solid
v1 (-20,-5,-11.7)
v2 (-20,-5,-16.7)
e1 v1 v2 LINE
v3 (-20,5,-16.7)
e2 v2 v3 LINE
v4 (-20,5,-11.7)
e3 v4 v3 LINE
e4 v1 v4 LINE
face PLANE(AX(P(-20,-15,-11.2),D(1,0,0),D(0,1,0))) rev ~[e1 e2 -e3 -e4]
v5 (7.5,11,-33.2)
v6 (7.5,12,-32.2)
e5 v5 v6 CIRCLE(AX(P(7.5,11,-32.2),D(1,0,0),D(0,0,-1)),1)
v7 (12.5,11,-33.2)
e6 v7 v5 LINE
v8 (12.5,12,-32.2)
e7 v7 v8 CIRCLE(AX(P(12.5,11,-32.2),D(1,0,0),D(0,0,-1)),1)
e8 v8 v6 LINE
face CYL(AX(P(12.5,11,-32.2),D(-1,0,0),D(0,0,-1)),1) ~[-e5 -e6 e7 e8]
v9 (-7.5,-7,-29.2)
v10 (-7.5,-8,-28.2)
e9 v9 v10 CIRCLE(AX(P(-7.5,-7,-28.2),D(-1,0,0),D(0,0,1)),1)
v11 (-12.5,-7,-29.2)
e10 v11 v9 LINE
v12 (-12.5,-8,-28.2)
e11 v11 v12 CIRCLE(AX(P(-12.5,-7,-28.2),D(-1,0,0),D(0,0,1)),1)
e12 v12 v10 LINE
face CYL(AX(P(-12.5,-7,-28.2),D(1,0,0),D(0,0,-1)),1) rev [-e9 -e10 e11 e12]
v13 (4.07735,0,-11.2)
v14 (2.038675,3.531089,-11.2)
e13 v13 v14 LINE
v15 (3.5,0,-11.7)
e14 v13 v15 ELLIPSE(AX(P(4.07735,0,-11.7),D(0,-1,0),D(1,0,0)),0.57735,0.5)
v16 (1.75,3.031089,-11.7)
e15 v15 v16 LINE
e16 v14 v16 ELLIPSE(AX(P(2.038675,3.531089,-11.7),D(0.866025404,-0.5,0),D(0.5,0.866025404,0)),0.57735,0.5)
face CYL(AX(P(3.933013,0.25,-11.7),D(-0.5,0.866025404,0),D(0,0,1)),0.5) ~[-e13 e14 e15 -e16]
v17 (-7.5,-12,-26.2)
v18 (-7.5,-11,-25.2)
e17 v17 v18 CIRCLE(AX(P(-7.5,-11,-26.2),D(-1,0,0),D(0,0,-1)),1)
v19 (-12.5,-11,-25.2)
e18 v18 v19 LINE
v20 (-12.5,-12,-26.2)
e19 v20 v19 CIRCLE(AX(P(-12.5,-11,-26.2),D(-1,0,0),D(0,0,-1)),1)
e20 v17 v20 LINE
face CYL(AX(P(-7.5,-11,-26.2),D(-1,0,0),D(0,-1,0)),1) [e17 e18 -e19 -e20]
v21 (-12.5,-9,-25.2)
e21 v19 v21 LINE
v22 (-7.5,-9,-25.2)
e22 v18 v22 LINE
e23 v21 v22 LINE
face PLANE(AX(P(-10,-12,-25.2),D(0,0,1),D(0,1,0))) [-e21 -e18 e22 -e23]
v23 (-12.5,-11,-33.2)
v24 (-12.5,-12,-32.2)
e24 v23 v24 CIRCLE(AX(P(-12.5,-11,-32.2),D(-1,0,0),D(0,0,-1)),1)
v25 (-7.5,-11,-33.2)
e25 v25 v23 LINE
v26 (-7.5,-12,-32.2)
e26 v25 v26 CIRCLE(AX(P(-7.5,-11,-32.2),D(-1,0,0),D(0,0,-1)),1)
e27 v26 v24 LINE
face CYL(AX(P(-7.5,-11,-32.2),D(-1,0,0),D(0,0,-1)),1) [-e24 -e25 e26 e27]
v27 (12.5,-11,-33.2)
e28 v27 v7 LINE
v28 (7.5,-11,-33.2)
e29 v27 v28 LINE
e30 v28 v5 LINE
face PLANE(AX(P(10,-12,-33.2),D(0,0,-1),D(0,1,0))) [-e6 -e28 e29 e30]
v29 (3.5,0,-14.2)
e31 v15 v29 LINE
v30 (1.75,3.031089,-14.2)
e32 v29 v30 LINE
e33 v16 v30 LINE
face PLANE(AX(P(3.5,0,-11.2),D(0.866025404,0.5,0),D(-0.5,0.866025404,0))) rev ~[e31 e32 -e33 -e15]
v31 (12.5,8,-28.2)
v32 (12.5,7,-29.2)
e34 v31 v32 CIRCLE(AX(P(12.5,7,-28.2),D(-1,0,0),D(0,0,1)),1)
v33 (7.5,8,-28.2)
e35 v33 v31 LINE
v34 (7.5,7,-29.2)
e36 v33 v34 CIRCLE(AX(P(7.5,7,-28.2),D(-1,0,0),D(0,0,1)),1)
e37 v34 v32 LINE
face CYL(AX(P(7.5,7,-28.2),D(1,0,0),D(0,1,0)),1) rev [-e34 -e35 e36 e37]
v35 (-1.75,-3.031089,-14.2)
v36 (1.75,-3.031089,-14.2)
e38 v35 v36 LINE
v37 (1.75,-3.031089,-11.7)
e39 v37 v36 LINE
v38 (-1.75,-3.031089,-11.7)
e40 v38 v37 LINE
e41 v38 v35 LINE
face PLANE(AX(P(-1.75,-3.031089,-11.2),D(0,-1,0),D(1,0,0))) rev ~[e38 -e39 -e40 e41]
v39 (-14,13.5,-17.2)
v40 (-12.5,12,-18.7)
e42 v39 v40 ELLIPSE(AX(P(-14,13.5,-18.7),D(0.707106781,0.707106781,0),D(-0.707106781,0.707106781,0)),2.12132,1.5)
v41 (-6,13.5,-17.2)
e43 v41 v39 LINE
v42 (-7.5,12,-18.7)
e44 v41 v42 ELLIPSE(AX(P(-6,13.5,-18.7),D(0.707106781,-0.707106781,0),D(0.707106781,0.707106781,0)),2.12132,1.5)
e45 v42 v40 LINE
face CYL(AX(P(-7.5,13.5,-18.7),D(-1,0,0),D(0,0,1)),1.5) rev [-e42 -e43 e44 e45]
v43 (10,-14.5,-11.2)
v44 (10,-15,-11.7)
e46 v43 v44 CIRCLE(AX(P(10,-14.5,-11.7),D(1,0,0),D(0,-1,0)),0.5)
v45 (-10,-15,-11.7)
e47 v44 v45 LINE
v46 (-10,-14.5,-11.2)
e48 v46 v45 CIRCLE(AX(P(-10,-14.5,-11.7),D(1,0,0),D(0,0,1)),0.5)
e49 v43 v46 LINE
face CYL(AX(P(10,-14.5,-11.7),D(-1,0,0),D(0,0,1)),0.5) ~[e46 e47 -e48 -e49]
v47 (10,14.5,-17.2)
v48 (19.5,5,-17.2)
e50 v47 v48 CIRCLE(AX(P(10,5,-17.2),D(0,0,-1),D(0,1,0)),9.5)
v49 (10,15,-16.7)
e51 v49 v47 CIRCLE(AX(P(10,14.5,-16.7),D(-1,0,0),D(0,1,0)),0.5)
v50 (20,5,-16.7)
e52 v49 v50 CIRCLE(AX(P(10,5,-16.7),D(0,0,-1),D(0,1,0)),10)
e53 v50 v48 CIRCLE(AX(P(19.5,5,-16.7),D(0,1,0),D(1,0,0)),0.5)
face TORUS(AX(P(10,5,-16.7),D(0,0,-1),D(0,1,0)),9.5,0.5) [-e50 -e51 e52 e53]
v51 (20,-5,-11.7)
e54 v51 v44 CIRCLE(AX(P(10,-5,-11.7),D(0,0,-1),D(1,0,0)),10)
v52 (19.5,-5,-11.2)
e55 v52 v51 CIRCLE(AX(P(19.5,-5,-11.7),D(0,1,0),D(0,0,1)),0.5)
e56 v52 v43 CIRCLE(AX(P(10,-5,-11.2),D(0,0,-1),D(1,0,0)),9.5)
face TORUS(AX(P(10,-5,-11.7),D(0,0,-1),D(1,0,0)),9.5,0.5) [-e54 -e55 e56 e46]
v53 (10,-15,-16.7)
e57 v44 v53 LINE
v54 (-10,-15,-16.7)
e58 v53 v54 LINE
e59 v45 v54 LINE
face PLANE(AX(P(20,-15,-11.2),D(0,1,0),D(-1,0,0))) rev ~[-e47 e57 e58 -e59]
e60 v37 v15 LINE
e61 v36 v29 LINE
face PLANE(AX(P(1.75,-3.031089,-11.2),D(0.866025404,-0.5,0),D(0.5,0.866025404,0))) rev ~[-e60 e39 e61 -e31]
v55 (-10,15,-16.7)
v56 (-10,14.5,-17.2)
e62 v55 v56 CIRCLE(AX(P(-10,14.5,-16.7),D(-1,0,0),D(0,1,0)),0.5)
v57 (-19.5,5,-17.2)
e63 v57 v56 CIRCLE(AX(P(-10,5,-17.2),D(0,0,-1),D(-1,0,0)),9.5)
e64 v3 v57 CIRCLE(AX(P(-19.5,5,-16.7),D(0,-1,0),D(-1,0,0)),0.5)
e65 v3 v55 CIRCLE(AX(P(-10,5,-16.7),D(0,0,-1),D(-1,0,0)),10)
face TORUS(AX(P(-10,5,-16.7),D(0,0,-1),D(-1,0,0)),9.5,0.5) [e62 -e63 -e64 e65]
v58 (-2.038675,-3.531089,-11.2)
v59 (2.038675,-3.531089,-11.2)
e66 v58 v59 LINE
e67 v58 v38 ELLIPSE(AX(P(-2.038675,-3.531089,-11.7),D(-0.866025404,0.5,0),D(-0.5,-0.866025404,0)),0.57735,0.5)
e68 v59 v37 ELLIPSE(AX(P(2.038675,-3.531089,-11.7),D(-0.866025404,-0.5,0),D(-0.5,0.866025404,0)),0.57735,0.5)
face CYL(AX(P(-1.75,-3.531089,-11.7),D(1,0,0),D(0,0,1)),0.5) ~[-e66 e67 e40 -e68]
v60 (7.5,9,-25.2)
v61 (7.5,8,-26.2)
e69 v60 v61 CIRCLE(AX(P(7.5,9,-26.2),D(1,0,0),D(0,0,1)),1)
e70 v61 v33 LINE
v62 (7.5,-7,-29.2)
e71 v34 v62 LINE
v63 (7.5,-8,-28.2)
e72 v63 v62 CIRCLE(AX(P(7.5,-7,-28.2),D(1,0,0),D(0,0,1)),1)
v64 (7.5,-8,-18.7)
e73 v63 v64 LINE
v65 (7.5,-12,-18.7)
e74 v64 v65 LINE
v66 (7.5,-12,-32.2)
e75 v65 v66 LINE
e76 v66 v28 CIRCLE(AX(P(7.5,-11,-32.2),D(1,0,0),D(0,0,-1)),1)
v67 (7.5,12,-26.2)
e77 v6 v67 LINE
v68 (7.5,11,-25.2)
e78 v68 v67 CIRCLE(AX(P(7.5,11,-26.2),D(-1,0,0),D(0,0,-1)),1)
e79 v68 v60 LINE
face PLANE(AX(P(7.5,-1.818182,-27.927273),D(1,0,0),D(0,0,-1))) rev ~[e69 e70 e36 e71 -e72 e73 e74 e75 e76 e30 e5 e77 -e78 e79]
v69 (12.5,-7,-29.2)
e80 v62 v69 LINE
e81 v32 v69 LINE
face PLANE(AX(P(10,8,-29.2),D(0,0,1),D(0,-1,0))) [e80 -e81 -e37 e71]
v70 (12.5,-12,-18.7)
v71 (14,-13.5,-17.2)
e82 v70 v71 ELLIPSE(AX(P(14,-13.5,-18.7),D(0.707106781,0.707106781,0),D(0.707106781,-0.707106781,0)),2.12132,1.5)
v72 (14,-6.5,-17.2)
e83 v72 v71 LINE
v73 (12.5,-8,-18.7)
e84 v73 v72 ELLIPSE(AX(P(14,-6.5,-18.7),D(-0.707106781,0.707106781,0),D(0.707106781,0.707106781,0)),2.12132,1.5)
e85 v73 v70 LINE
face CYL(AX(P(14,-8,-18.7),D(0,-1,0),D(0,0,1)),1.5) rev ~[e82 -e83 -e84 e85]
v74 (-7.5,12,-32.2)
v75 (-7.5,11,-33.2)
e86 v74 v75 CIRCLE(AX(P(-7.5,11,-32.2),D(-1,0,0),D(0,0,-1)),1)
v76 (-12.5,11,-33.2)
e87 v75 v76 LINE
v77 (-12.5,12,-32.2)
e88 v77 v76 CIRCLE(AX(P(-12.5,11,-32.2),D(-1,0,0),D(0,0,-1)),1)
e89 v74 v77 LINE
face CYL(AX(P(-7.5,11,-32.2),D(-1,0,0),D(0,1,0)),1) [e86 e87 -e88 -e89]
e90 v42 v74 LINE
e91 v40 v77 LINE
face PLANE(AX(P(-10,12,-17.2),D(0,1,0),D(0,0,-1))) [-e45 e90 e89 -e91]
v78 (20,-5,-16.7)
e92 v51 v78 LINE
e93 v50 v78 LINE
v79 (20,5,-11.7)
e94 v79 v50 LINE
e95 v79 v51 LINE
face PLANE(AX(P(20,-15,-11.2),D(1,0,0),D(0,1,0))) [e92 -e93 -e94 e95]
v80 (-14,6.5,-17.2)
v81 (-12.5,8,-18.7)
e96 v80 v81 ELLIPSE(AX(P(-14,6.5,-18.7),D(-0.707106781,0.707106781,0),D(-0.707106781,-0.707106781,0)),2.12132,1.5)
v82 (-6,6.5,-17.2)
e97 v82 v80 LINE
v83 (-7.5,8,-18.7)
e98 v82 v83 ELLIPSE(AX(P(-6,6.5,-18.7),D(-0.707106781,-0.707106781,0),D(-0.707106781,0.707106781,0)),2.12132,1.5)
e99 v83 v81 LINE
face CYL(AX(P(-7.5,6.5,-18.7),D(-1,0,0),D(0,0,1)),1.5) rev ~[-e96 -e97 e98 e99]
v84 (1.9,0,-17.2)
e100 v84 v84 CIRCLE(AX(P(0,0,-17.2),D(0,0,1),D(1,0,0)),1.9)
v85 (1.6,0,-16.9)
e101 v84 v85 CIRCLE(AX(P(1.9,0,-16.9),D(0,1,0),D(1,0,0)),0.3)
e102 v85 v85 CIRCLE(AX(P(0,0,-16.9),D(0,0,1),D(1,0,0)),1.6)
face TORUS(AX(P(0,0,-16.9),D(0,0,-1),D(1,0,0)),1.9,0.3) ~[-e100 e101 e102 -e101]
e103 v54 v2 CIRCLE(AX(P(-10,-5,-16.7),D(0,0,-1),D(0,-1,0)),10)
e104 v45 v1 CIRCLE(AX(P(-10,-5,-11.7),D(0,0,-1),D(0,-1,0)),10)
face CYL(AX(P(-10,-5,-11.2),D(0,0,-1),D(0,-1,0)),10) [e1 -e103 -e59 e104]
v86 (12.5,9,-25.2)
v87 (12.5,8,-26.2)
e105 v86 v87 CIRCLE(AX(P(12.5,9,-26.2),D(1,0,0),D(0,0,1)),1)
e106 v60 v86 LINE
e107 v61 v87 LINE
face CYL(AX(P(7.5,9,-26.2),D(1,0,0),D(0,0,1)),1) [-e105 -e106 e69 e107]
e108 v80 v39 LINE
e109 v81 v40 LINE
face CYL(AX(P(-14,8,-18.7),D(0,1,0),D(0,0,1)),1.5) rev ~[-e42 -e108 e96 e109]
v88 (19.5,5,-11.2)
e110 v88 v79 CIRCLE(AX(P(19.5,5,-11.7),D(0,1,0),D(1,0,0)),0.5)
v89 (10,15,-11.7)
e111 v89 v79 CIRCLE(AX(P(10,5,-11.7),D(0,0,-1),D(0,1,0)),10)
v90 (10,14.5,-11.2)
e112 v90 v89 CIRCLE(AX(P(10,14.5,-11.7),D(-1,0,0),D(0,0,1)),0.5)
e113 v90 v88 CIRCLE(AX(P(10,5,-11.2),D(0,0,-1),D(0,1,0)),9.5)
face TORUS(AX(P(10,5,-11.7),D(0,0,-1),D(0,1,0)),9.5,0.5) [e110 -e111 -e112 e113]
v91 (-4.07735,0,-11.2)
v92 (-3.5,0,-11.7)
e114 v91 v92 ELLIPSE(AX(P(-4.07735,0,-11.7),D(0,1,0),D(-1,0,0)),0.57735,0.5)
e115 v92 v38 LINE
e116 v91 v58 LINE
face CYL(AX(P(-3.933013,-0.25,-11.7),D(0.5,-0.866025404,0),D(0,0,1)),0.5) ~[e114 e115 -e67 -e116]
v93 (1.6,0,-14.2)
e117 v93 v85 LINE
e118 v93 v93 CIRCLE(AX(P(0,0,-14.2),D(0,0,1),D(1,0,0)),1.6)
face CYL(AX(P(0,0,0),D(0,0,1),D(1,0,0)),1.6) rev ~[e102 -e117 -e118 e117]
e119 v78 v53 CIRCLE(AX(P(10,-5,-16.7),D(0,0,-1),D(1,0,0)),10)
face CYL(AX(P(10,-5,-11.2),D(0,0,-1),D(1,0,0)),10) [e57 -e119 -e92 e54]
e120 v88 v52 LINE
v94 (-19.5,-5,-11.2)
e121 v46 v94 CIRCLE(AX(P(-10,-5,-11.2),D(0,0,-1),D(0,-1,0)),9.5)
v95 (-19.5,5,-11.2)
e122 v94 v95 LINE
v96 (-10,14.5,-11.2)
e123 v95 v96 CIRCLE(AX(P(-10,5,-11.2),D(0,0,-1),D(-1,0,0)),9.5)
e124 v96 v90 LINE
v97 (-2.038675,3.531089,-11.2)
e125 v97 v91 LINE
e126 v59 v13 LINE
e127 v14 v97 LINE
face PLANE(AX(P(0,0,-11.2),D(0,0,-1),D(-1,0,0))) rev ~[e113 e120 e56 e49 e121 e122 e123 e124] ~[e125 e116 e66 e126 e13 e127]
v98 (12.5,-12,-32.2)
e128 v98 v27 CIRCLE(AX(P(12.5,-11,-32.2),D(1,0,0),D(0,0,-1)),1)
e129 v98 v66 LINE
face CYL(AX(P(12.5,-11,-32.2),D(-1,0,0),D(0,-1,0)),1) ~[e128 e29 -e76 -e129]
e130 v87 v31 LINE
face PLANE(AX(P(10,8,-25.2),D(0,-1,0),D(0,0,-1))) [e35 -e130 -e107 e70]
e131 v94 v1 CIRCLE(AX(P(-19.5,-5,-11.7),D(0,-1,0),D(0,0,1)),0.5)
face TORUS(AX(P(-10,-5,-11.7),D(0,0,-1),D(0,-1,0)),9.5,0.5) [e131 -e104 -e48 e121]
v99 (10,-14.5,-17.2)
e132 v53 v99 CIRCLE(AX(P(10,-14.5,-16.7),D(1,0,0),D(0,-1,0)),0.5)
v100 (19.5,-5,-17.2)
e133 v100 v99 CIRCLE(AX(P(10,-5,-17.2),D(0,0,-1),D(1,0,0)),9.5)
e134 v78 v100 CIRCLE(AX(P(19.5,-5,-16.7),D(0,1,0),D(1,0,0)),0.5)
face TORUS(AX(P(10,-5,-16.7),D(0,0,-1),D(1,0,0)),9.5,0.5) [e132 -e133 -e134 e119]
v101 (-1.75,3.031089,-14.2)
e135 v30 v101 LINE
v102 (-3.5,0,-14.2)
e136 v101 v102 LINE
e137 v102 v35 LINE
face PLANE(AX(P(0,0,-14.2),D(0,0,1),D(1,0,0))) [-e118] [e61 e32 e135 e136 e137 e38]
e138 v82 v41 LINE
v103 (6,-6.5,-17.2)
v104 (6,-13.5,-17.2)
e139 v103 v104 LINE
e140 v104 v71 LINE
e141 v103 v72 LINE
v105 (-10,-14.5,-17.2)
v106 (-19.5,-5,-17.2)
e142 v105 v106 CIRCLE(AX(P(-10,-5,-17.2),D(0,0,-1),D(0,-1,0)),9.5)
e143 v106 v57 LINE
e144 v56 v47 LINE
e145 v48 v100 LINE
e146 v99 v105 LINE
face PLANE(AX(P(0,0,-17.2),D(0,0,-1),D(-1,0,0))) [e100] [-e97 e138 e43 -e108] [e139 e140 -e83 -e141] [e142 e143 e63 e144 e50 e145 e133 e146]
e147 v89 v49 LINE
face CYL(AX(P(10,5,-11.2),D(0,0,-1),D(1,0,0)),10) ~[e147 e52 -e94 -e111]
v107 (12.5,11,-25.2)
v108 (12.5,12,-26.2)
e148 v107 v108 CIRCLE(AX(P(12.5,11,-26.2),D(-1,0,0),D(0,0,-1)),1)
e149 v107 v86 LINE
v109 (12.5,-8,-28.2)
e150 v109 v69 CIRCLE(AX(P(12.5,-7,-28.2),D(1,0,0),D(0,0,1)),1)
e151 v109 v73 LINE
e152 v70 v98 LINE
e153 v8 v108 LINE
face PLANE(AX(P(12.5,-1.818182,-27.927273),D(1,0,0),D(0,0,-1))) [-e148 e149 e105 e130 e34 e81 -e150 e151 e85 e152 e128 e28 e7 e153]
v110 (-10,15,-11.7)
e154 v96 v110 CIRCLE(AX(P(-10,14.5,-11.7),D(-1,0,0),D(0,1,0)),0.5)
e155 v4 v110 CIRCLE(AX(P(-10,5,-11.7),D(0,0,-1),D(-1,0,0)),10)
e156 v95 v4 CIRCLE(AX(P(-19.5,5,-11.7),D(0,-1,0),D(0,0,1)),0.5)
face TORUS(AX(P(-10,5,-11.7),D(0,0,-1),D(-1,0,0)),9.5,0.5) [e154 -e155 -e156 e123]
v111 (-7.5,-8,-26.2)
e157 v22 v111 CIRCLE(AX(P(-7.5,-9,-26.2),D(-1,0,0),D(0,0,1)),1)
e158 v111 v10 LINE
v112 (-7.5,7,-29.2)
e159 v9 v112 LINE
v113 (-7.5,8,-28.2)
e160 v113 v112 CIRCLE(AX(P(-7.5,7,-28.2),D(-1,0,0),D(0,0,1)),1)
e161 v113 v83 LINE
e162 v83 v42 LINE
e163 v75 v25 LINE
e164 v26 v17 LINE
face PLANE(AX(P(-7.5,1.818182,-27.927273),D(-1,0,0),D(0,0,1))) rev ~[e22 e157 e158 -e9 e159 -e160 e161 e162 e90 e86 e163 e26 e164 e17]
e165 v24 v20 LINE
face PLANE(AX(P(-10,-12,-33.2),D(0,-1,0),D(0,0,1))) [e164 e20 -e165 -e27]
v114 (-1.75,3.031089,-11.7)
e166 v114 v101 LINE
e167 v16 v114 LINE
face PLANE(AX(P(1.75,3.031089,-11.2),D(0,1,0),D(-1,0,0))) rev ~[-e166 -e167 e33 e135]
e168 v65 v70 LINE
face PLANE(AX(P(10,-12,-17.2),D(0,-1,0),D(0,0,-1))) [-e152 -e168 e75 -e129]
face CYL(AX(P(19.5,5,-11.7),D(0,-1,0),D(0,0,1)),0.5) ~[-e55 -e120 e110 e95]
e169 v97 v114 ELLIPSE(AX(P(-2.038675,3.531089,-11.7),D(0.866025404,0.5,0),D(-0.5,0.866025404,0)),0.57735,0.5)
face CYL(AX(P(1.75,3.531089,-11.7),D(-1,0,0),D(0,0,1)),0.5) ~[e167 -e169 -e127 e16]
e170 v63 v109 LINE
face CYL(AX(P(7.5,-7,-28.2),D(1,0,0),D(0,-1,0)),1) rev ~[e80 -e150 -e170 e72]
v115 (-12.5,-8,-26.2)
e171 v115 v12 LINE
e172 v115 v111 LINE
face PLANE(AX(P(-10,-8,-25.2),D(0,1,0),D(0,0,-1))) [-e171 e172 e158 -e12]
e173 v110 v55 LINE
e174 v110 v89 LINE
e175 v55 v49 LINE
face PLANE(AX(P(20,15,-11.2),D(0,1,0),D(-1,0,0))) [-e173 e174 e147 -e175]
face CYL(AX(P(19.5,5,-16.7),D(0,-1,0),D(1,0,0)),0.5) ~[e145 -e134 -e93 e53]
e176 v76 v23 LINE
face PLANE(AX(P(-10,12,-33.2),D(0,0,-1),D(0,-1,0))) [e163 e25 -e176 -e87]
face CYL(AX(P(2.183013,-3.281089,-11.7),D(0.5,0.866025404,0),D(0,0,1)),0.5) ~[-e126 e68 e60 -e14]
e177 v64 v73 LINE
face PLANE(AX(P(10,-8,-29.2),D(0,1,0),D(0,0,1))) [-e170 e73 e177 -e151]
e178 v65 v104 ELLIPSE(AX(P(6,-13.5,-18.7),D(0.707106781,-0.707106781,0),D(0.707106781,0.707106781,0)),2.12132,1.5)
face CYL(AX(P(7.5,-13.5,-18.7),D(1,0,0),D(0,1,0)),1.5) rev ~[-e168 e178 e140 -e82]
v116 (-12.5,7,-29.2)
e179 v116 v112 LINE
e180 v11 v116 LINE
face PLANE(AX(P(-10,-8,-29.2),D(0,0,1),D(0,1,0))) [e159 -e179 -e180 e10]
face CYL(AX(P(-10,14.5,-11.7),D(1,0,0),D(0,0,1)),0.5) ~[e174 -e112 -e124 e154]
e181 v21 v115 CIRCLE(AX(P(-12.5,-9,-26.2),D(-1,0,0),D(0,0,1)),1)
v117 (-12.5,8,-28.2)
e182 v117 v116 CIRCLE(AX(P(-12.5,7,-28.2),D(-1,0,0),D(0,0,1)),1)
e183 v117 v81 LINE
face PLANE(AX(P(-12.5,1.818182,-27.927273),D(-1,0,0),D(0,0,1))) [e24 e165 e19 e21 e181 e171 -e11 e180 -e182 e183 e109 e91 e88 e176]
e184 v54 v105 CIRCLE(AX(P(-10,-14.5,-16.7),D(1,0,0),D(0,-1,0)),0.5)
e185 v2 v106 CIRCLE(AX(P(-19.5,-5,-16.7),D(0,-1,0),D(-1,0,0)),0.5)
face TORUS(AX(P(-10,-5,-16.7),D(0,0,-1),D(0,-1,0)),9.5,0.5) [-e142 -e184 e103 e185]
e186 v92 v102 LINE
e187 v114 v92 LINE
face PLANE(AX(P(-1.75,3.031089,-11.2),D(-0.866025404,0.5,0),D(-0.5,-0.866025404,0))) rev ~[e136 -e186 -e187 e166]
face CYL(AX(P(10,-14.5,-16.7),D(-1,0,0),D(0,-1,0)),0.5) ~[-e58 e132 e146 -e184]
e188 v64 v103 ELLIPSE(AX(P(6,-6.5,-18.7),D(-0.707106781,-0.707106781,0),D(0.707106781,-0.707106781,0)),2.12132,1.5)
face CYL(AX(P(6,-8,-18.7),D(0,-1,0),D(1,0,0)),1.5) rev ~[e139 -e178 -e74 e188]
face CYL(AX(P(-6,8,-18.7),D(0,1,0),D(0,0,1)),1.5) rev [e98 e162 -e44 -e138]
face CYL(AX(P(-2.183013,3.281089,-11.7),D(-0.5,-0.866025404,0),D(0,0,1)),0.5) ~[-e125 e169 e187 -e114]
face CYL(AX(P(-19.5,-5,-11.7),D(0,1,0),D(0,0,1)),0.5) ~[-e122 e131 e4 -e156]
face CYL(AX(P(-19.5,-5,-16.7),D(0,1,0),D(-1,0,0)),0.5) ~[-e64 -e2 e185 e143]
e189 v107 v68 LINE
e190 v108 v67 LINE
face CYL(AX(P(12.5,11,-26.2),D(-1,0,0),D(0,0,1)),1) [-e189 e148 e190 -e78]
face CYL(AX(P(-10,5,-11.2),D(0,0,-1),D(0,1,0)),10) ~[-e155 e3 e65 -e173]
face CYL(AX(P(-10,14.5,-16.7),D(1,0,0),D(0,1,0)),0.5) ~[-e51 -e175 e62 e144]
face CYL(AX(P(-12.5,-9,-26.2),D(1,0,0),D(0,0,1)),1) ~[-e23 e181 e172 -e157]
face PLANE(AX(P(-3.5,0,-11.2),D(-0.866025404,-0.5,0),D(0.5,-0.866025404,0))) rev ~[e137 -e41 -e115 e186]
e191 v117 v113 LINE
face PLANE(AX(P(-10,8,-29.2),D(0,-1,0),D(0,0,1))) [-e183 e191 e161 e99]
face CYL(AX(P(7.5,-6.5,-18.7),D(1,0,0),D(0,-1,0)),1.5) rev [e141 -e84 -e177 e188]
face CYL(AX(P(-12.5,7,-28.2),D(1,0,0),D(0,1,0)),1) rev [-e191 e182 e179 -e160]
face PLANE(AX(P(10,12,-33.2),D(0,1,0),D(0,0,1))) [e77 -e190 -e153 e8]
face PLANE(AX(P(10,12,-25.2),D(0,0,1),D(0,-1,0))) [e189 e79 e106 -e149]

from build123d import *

# Parameters (mm, degrees)
BOSS_EXTRUDE1_DEPTH = 6
SKETCH2_W           = 7.6
SKETCH2_H           = 8.4
BOSS_EXTRUDE2_DEPTH = 4
SKETCH3_W           = 40
SKETCH3_H           = 30
BOSS_EXTRUDE3_DEPTH = 6
BOSS_EXTRUDE4_DEPTH = 2.5
BOSS_EXTRUDE5_DEPTH = 2.5
FILLET1_R           = 10
SKETCH8_R           = 1.6
CUT_EXTRUDE1_DEPTH  = 34.2
FILLET3_R           = 0.5
FILLET4_R           = 0.5
FILLET5_R           = 0.5
SKETCH9_R           = 14.329528823
CUT_EXTRUDE2_DEPTH  = 12.2
CUT_EXTRUDE3_DEPTH  = 3
FILLET6_R           = 0.5
FILLET7_R           = 1
FILLET8_R           = 1.5
FILLET9_R           = 0.3


with BuildPart() as part:
    # Sketch1 → Boss-Extrude1 (new body, symmetric)
    with BuildSketch(Plane(origin=(0, 0, 0), x_dir=(1, 0, 0), z_dir=(0, 1, 0))):
        Polygon((-8, 0), (8, 0), (8, 3.6), (4.3, 7.2), (-4.3, 7.2), (-8, 3.6), align=None)
    extrude(amount=BOSS_EXTRUDE1_DEPTH, both=True)

    # Sketch2 → Boss-Extrude2 (add)
    with BuildSketch(Plane(origin=(0, 0, -7.2), x_dir=(-1, 0, 0), z_dir=(0, 0, -1))):
        Rectangle(SKETCH2_W, SKETCH2_H)
    extrude(amount=BOSS_EXTRUDE2_DEPTH)

    # Sketch3 → Boss-Extrude3 (add)
    with BuildSketch(Plane(origin=(0, 0, -11.2), x_dir=(-1, 0, 0), z_dir=(0, 0, -1))):
        Rectangle(SKETCH3_W, SKETCH3_H)
    extrude(amount=BOSS_EXTRUDE3_DEPTH)

    # Sketch6 → Boss-Extrude4 (add, symmetric)
    with BuildSketch(Plane.ZY.offset(10)):
        Polygon((-29.2, 8), (-17.2, 8), (-17.2, 12), (-33.2, 12), (-33.2, -12), (-25.2, -12), (-25.2, -8), (-29.2, -8), align=None)
    extrude(amount=BOSS_EXTRUDE4_DEPTH, both=True)

    # Sketch7 → Boss-Extrude5 (add, symmetric)
    with BuildSketch(Plane(origin=(10, 0, 0), x_dir=(0, 0, -1), z_dir=(1, 0, 0))):
        Polygon((25.2, 12), (25.2, 8), (29.2, 8), (29.2, -8), (17.2, -8), (17.2, -12), (33.2, -12), (33.2, 12), align=None)
    extrude(amount=BOSS_EXTRUDE5_DEPTH, both=True)

    # Fillet1
    fillet1_edges = [part.edges().sort_by_distance(p)[0] for p in [
        (-20, -15, -14.2),
        (-20, 15, -14.2),
        (20, 15, -14.2),
        (20, -15, -14.2),
    ]]
    fillet(fillet1_edges, radius=FILLET1_R)

    # Sketch8 → Cut-Extrude1 (cut, through all)
    with BuildSketch(Plane.XY):
        Circle(SKETCH8_R)
    extrude(amount=-CUT_EXTRUDE1_DEPTH, mode=Mode.SUBTRACT)

    # Fillet3
    fillet3_edges = [part.edges().sort_by_distance(p)[0] for p in [
        (-6.15, 6, -5.4),
        (-8, 6, -1.8),
        (0, 6, 0),
        (8, 6, -1.8),
        (6.15, 6, -5.4),
        (8, -6, -1.8),
        (0, -6, 0),
        (-8, -6, -1.8),
        (-6.15, -6, -5.4),
        (0, -6, -7.2),
        (6.15, -6, -5.4),
        (0, 6, -7.2),
    ]]
    fillet(fillet3_edges, radius=FILLET3_R)

    # Fillet4
    fillet4_edges = [part.edges().sort_by_distance(p)[0] for p in [
        (-20, 0, -11.2),
        (-20, 0, -17.2),
        (0, -15, -11.2),
        (20, 0, -11.2),
        (0, 15, -11.2),
        (17.071067812, 12.071067812, -11.2),
        (17.071067812, -12.071067812, -11.2),
        (-17.071067812, 12.071067812, -11.2),
        (-17.071067812, -12.071067812, -11.2),
        (0, -15, -17.2),
        (0, 15, -17.2),
        (20, 0, -17.2),
        (17.071067812, 12.071067812, -17.2),
        (17.071067812, -12.071067812, -17.2),
        (-17.071067812, 12.071067812, -17.2),
        (-17.071067812, -12.071067812, -17.2),
    ]]
    fillet(fillet4_edges, radius=FILLET4_R)

    # Fillet5
    fillet5_edges = [part.edges().sort_by_distance(p)[0] for p in [
        (-3.8, 0, -11.2),
        (0, 4.2, -11.2),
        (3.8, 0, -11.2),
        (0, -4.2, -11.2),
    ]]
    fillet(fillet5_edges, radius=FILLET5_R)

    # Sketch9 → Cut-Extrude2 (cut, through all)
    with BuildSketch(Plane.XY.offset(-11.2)):
        Circle(SKETCH9_R)
    extrude(amount=CUT_EXTRUDE2_DEPTH, mode=Mode.SUBTRACT)

    # Sketch10 → Cut-Extrude3 (cut)
    with BuildSketch(Plane.XY.offset(-11.2)):
        Polygon((3.5, 0), (1.75, 3.031088913), (-1.75, 3.031088913), (-3.5, 0), (-1.75, -3.031088913), (1.75, -3.031088913), align=None)
    extrude(amount=-CUT_EXTRUDE3_DEPTH, mode=Mode.SUBTRACT)

    # Fillet6
    fillet6_edges = [part.edges().sort_by_distance(p)[0] for p in [
        (2.625, -1.515544457, -11.2),
        (2.625, 1.515544457, -11.2),
        (0, 3.031088913, -11.2),
        (-2.625, 1.515544457, -11.2),
        (-2.625, -1.515544457, -11.2),
        (0, -3.031088913, -11.2),
    ]]
    fillet(fillet6_edges, radius=FILLET6_R)

    # Fillet7
    fillet7_edges = [part.edges().sort_by_distance(p)[0] for p in [
        (-10, 8, -29.2),
        (-10, 12, -33.2),
        (-10, -12, -33.2),
        (-10, -12, -25.2),
        (-10, -8, -25.2),
        (-10, -8, -29.2),
        (10, -12, -33.2),
        (10, 12, -33.2),
        (10, 12, -25.2),
        (10, 8, -25.2),
        (10, 8, -29.2),
        (10, -8, -29.2),
    ]]
    fillet(fillet7_edges, radius=FILLET7_R)

    # Fillet8
    fillet8_edges = [part.edges().sort_by_distance(p)[0] for p in [
        (-7.5, 10, -17.2),
        (-10, 8, -17.2),
        (-10, 12, -17.2),
        (-12.5, 10, -17.2),
        (10, -12, -17.2),
        (7.5, -10, -17.2),
        (10, -8, -17.2),
        (12.5, -10, -17.2),
    ]]
    fillet(fillet8_edges, radius=FILLET8_R)

    # Fillet9
    fillet9_edges = [part.edges().sort_by_distance(p)[0] for p in [
        (-1.6, 0, -17.2),
    ]]
    fillet(fillet9_edges, radius=FILLET9_R)


solid = part.part
